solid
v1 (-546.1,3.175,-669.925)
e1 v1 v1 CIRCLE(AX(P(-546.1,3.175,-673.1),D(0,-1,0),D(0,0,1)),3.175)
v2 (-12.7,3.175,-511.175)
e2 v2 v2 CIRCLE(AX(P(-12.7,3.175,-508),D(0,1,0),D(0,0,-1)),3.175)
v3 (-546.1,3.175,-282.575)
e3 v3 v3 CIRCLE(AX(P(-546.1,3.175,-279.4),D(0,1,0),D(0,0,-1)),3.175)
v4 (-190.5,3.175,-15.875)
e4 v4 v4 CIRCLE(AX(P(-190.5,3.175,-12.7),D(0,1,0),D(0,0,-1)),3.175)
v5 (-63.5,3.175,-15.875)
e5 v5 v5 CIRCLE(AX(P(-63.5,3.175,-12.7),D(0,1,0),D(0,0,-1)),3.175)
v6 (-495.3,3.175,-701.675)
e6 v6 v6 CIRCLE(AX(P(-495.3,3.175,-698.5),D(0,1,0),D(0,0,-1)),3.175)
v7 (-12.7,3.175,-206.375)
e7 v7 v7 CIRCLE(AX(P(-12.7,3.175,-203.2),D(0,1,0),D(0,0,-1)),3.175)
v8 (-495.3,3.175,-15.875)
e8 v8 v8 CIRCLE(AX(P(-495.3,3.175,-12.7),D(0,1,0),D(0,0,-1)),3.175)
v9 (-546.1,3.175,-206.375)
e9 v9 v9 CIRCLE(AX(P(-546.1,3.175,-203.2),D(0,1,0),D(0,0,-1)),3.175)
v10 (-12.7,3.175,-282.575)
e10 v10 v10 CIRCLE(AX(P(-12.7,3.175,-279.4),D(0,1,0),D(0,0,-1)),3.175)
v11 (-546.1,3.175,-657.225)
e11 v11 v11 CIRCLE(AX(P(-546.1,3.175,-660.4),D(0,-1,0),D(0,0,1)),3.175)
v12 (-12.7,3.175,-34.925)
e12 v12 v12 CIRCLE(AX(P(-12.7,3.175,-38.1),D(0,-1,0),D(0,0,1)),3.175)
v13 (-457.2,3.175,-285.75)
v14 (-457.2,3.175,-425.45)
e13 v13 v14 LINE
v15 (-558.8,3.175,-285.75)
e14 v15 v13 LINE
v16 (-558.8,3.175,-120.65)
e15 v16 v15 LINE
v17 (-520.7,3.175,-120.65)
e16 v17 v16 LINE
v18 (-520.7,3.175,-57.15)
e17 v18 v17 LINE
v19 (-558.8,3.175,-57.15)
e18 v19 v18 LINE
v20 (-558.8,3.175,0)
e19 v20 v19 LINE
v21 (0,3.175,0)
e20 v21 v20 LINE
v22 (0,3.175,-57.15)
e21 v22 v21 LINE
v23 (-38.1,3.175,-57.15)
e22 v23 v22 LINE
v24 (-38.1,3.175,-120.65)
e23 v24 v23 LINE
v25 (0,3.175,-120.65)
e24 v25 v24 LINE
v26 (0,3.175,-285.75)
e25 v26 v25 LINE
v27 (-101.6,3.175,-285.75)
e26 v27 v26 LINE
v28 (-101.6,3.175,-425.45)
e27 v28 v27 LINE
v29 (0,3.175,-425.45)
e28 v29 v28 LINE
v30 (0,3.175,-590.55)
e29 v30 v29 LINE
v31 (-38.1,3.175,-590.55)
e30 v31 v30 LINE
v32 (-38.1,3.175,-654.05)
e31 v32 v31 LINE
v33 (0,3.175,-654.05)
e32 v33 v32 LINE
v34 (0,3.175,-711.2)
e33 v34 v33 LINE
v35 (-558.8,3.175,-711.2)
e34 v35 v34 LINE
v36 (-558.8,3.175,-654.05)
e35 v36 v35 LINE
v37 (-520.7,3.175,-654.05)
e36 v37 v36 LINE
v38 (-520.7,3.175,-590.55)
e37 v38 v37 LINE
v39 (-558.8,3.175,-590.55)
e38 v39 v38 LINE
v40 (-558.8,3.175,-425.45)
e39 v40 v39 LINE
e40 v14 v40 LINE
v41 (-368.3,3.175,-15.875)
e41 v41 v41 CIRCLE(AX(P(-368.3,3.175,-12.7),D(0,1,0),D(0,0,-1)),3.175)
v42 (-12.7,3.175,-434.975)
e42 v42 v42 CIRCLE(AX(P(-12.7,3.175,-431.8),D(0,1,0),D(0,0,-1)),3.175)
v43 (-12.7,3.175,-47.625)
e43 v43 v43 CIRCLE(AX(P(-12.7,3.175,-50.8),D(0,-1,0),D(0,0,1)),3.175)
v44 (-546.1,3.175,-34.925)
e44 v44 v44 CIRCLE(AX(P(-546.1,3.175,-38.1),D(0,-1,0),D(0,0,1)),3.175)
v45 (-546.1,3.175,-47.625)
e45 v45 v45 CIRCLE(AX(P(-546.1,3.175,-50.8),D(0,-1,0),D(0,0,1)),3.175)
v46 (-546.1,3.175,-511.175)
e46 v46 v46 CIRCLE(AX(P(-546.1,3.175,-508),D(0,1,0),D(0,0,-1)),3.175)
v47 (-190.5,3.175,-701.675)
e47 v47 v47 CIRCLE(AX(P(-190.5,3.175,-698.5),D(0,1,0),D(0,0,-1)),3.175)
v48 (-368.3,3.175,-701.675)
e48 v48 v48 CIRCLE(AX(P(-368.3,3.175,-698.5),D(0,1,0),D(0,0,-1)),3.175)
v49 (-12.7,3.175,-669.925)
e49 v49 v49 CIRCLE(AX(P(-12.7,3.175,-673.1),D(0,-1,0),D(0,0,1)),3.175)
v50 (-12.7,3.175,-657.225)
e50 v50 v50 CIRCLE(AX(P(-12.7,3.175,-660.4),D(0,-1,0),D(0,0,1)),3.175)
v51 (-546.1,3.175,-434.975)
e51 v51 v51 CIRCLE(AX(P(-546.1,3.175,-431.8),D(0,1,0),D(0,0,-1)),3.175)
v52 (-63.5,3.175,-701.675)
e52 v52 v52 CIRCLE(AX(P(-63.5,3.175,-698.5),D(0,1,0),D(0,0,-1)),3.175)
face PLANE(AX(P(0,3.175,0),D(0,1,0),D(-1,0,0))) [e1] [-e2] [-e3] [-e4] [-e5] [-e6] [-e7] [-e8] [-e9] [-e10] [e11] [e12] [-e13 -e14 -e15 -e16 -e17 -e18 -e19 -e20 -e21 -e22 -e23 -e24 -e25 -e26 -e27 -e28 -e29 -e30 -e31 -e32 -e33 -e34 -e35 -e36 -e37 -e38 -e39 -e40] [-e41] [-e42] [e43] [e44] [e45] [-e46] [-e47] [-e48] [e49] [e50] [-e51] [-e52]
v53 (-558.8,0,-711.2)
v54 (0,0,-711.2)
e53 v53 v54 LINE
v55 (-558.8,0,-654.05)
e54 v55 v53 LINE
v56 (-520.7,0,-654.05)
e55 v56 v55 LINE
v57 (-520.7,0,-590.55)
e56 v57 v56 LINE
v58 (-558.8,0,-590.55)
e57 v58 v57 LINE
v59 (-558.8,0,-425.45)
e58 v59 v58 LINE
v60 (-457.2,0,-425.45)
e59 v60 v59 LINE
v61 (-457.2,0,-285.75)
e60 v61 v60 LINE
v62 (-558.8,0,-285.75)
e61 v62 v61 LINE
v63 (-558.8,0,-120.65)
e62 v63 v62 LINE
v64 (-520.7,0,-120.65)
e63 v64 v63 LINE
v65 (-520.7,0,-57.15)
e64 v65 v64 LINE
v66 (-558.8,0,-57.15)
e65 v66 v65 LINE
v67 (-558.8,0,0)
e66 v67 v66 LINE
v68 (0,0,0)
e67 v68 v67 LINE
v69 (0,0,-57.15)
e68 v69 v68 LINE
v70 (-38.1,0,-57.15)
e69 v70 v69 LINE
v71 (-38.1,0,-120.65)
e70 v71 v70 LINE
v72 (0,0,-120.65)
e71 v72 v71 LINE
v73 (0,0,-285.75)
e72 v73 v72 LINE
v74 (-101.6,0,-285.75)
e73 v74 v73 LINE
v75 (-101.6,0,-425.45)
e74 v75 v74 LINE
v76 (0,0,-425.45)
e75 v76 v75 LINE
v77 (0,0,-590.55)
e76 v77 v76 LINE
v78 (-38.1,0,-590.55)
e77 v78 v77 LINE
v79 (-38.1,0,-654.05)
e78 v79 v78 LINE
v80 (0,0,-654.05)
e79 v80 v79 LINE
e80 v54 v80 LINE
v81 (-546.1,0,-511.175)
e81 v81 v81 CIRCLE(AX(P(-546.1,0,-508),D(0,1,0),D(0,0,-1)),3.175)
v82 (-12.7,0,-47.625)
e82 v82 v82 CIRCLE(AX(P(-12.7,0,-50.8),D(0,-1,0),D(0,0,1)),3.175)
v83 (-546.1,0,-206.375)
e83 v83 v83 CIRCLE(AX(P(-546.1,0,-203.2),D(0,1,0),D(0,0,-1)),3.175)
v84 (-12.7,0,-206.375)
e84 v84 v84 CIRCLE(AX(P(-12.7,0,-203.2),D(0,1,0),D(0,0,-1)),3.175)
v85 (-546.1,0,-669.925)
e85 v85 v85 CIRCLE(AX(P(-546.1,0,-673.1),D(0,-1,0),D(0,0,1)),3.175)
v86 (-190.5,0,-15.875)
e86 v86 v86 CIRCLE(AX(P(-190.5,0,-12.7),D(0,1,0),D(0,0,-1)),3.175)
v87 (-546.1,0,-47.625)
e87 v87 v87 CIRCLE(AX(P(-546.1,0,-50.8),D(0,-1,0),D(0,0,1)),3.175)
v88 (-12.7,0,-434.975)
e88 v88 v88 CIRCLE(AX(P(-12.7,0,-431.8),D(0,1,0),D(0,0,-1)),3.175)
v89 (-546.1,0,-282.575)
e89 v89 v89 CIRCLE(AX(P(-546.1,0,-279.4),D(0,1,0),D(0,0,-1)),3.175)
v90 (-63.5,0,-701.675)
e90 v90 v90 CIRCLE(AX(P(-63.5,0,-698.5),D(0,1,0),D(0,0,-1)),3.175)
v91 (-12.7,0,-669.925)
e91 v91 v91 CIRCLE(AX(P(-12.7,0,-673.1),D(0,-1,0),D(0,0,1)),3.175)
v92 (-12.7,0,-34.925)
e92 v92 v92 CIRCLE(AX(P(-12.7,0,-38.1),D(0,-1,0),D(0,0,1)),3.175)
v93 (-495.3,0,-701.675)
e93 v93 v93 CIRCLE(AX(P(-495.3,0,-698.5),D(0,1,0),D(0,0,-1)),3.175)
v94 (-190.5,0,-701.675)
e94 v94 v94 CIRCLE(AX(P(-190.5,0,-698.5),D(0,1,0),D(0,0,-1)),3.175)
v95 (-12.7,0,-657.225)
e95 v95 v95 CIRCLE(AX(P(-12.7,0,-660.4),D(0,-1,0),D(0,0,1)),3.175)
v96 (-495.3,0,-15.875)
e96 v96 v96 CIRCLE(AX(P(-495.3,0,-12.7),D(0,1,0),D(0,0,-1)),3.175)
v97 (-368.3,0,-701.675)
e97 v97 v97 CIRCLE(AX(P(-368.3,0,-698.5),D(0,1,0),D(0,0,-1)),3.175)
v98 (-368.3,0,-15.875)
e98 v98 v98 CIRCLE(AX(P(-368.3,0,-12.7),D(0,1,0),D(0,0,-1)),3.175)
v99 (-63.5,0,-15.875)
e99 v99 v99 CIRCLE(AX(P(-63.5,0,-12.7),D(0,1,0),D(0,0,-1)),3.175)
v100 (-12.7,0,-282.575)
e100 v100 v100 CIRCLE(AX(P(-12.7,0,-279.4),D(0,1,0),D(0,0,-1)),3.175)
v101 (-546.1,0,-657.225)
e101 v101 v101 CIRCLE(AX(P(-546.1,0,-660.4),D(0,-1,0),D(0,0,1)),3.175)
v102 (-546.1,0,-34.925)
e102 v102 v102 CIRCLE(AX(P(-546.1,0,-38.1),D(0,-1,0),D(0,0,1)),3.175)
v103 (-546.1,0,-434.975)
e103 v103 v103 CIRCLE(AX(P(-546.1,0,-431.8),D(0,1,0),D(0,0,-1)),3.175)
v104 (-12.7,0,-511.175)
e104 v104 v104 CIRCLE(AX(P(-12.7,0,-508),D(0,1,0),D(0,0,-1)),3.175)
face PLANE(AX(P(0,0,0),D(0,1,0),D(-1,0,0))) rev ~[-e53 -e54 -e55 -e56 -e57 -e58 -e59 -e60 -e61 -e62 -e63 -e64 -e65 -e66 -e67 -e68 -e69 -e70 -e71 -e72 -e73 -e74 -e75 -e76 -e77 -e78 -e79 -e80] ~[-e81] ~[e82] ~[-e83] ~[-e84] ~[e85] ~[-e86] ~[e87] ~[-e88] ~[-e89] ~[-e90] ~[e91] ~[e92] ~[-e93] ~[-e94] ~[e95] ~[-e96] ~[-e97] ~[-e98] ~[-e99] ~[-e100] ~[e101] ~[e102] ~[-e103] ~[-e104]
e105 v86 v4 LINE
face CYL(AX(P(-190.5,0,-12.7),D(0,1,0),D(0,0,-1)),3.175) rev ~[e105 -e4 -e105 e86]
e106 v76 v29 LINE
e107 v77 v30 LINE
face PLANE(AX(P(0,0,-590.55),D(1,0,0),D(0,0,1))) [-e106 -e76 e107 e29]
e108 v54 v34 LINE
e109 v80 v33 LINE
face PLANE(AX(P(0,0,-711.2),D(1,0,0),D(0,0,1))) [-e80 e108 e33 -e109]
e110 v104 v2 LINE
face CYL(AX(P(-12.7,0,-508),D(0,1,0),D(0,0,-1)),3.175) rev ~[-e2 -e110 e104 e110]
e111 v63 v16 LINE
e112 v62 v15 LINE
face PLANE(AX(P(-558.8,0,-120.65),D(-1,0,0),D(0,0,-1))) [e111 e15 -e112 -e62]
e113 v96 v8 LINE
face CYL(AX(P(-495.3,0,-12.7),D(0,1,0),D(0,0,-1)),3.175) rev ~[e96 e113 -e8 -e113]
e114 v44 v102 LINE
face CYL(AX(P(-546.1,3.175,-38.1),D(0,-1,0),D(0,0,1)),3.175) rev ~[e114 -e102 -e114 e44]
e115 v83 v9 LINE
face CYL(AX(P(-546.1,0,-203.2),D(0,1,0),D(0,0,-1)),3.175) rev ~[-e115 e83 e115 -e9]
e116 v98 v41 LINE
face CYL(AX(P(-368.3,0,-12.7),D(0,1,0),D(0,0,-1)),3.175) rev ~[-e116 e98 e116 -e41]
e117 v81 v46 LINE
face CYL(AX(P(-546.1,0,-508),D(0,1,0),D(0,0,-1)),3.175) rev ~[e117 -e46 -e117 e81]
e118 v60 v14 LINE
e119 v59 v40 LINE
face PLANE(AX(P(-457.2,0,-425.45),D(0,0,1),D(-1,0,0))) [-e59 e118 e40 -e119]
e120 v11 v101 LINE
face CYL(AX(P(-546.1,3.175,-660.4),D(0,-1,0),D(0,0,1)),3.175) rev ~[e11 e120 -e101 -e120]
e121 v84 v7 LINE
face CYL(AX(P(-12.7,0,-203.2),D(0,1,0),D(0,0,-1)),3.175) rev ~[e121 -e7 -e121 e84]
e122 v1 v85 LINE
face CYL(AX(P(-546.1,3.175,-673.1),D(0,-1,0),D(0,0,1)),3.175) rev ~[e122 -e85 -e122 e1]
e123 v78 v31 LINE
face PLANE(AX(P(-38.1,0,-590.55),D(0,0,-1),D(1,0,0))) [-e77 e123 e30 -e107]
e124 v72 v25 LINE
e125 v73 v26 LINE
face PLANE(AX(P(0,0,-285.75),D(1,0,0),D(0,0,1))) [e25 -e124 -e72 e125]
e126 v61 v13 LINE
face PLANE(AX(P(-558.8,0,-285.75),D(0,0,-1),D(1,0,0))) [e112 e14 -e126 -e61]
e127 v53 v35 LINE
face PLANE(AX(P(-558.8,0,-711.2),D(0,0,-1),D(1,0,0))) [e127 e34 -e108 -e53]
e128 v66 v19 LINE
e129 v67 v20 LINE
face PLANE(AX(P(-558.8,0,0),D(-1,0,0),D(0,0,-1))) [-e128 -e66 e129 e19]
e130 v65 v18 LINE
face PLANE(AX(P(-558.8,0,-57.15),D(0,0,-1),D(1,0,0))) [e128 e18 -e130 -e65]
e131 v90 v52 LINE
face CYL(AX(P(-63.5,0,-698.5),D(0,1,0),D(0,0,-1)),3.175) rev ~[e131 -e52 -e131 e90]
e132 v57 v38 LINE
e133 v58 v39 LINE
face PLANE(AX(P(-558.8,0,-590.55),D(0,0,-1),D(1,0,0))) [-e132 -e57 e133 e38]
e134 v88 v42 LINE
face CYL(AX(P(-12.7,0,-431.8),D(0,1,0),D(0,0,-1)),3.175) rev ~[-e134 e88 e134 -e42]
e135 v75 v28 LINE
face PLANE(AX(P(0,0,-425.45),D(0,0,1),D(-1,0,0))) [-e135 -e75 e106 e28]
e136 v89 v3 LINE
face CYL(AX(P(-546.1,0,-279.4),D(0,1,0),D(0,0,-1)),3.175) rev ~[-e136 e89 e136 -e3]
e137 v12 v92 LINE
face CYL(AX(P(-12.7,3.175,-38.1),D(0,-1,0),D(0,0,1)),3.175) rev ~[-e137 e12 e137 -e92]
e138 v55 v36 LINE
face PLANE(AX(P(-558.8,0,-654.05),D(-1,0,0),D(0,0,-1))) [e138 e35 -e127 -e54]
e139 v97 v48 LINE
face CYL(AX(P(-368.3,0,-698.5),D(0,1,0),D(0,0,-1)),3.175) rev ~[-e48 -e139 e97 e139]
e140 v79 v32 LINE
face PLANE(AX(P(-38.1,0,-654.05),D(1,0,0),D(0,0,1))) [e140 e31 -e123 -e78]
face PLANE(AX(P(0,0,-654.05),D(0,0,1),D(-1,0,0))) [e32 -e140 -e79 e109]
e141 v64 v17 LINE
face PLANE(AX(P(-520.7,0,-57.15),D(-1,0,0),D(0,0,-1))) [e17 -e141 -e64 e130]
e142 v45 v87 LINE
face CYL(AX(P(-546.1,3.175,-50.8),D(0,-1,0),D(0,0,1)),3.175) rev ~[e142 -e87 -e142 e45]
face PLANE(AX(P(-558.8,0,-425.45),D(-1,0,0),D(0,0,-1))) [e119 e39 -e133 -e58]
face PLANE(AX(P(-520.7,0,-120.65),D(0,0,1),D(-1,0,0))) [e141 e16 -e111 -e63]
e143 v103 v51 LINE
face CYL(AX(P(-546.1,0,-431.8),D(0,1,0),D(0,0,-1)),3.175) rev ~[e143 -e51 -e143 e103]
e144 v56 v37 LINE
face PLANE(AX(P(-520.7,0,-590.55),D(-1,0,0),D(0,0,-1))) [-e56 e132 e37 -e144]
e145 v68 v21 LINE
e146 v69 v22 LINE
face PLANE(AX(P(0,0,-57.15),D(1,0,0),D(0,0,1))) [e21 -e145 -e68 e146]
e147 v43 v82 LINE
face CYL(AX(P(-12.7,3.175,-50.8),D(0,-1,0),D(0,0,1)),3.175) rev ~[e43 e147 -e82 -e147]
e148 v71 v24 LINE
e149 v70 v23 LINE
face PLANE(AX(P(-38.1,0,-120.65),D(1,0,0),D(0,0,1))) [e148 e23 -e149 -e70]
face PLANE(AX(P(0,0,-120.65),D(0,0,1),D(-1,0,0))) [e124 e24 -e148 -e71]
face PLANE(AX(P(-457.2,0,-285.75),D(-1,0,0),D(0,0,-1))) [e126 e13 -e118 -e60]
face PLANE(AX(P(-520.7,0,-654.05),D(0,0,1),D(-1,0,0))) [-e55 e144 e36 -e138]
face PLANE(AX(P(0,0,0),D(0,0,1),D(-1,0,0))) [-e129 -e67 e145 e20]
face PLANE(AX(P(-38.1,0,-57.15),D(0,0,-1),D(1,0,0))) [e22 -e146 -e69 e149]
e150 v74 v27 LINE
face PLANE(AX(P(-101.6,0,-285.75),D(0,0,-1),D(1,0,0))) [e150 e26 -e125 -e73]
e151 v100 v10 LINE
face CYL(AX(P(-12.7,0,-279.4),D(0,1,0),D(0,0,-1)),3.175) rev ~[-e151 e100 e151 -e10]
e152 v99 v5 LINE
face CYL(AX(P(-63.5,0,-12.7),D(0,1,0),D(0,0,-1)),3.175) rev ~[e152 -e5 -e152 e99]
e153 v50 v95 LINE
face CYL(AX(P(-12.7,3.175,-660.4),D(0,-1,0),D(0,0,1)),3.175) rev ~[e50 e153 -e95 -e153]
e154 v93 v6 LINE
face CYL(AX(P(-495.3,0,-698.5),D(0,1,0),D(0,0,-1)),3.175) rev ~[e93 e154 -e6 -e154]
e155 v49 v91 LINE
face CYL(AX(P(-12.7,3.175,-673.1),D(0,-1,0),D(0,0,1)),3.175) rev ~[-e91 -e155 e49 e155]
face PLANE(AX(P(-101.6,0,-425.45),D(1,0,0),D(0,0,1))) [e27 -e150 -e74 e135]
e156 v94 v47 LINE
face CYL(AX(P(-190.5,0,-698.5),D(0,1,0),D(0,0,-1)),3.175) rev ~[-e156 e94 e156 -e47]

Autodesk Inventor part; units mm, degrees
ref_plane "YZ Plane" through (0, 0, 0) normal (1, 0, 0) x (0, 1, 0)
ref_plane "XZ Plane" through (0, 0, 0) normal (0, 1, 0) x (-1, 0, 0)
ref_plane "XY Plane" through (0, 0, 0) normal (0, 0, 1) x (1, 0, 0)
sketch "Sketch1" plane through (0, 0, 0) normal (0, 1, 0) x (-1, 0, 0)
  line L0 (0, 0) -> (558.8, 0) construction
  line L1 (558.8, 0) -> (558.8, -711.2) construction
  line L2 (558.8, -711.2) -> (0, -711.2) construction
  line L3 (0, -711.2) -> (0, 0) construction
  line L4 (558.8, -355.6) -> (457.2, -355.6) construction
  line L5 (457.2, -355.6) -> (457.2, -425.45) construction
  line L6 (457.2, -425.45) -> (558.8, -425.45) construction
  line L7 (558.8, -425.45) -> (558.8, -355.6) construction
  line L8 (558.8, -355.6) -> (457.2, -355.6) construction
  line L9 (457.2, -355.6) -> (457.2, -285.75) construction
  line L10 (457.2, -285.75) -> (558.8, -285.75) construction
  line L11 (558.8, -285.75) -> (558.8, -355.6) construction
  line L12 (0, -355.6) -> (101.6, -355.6) construction
  line L13 (101.6, -355.6) -> (101.6, -425.45) construction
  line L14 (101.6, -425.45) -> (0, -425.45) construction
  line L15 (0, -425.45) -> (0, -355.6) construction
  line L16 (0, -355.6) -> (101.6, -355.6) construction
  line L17 (101.6, -355.6) -> (101.6, -285.75) construction
  line L18 (101.6, -285.75) -> (0, -285.75) construction
  line L19 (0, -285.75) -> (0, -355.6) construction
  line L20 (558.8, 0) -> (558.8, -57.15) construction
  line L21 (558.8, -57.15) -> (520.7, -57.15) construction
  line L22 (520.7, -57.15) -> (520.7, -120.65) construction
  line L23 (520.7, -120.65) -> (558.8, -120.65) construction
  line L24 (558.8, -120.65) -> (558.8, -57.15) construction
  line L25 (0, 0) -> (0, -57.15) construction
  line L26 (0, -57.15) -> (38.1, -57.15) construction
  line L27 (38.1, -57.15) -> (38.1, -120.65) construction
  line L28 (38.1, -120.65) -> (0, -120.65) construction
  line L29 (0, -120.65) -> (0, -57.15) construction
  line L30 (0, -711.2) -> (0, -654.05) construction
  line L31 (0, -654.05) -> (38.1, -654.05) construction
  line L32 (38.1, -654.05) -> (38.1, -590.55) construction
  line L33 (38.1, -590.55) -> (0, -590.55) construction
  line L34 (0, -590.55) -> (0, -654.05) construction
  line L35 (558.8, -711.2) -> (558.8, -654.05) construction
  line L36 (558.8, -654.05) -> (520.7, -654.05) construction
  line L37 (520.7, -654.05) -> (520.7, -590.55) construction
  line L38 (520.7, -590.55) -> (558.8, -590.55) construction
  line L39 (558.8, -590.55) -> (558.8, -654.05) construction
  line L40 (0, 0) -> (558.8, 0)
  line L41 (558.8, 0) -> (558.8, -57.15)
  line L42 (558.8, -57.15) -> (520.7, -57.15)
  line L43 (520.7, -57.15) -> (520.7, -120.65)
  line L44 (520.7, -120.65) -> (558.8, -120.65)
  line L45 (558.8, -120.65) -> (558.8, -285.75)
  line L46 (558.8, -285.75) -> (457.2, -285.75)
  line L47 (457.2, -285.75) -> (457.2, -425.45)
  line L48 (457.2, -425.45) -> (558.8, -425.45)
  line L49 (558.8, -425.45) -> (558.8, -590.55)
  line L50 (558.8, -590.55) -> (520.7, -590.55)
  line L51 (520.7, -590.55) -> (520.7, -654.05)
  line L52 (520.7, -654.05) -> (558.8, -654.05)
  line L53 (558.8, -654.05) -> (558.8, -711.2)
  line L54 (558.8, -711.2) -> (0, -711.2)
  line L55 (0, -711.2) -> (0, -654.05)
  line L56 (0, -654.05) -> (38.1, -654.05)
  line L57 (38.1, -654.05) -> (38.1, -590.55)
  line L58 (38.1, -590.55) -> (0, -590.55)
  line L59 (0, -590.55) -> (0, -425.45)
  line L60 (0, -425.45) -> (101.6, -425.45)
  line L61 (101.6, -425.45) -> (101.6, -285.75)
  line L62 (101.6, -285.75) -> (0, -285.75)
  line L63 (0, -285.75) -> (0, -120.65)
  line L64 (0, -120.65) -> (38.1, -120.65)
  line L65 (38.1, -120.65) -> (38.1, -57.15)
  line L66 (38.1, -57.15) -> (0, -57.15)
  line L67 (0, -57.15) -> (0, 0)
  dimension "d0" = 558.8
  dimension "d1" = 711.2
  dimension "d2" = 101.6
  dimension "d3" = 69.85
  dimension "d4" = 101.6
  dimension "d5" = 69.85
  dimension "d6" = 101.6
  dimension "d7" = 69.85
  dimension "d8" = 101.6
  dimension "d9" = 69.85
  dimension "d10" = 57.15
  dimension "d11" = 38.1
  dimension "d12" = 63.5
  dimension "d13" = 57.15
  dimension "d14" = 38.1
  dimension "d15" = 63.5
  dimension "d16" = 57.15
  dimension "d17" = 38.1
  dimension "d18" = 63.5
  dimension "d19" = 57.15
  dimension "d20" = 38.1
  dimension "d21" = 63.5
extrude "Extrusion1" add sketch "Sketch1" along normal blind 3.175
sketch "Sketch2" plane through (0, 3.175, 0) normal (0, 1, 0) x (1, 0, 0)
  line L0 (-558.8, 0) -> (0, 0) projected
  line L1 (0, 0) -> (0, 57.15) projected
  line L2 (0, 57.15) -> (-38.1, 57.15) projected
  line L3 (-38.1, 57.15) -> (-38.1, 120.65) projected
  line L4 (-38.1, 120.65) -> (0, 120.65) projected
  line L5 (0, 120.65) -> (0, 285.75) projected
  line L6 (0, 285.75) -> (-101.6, 285.75) projected
  line L7 (-101.6, 285.75) -> (-101.6, 425.45) projected
  line L8 (-101.6, 425.45) -> (0, 425.45) projected
  line L9 (0, 425.45) -> (0, 590.55) projected
  line L10 (0, 590.55) -> (-38.1, 590.55) projected
  line L11 (-38.1, 590.55) -> (-38.1, 654.05) projected
  line L12 (-38.1, 654.05) -> (0, 654.05) projected
  line L13 (0, 654.05) -> (0, 711.2) projected
  line L14 (0, 711.2) -> (-558.8, 711.2) projected
  line L15 (-558.8, 711.2) -> (-558.8, 654.05) projected
  line L16 (-558.8, 654.05) -> (-520.7, 654.05) projected
  line L17 (-520.7, 654.05) -> (-520.7, 590.55) projected
  line L18 (-520.7, 590.55) -> (-558.8, 590.55) projected
  line L19 (-558.8, 590.55) -> (-558.8, 425.45) projected
  line L20 (-558.8, 425.45) -> (-457.2, 425.45) projected
  line L21 (-457.2, 425.45) -> (-457.2, 285.75) projected
  line L22 (-457.2, 285.75) -> (-558.8, 285.75) projected
  line L23 (-558.8, 285.75) -> (-558.8, 120.65) projected
  line L24 (-558.8, 120.65) -> (-520.7, 120.65) projected
  line L25 (-520.7, 120.65) -> (-520.7, 57.15) projected
  line L26 (-520.7, 57.15) -> (-558.8, 57.15) projected
  line L27 (-558.8, 57.15) -> (-558.8, 0) projected
  point P0 (-546.1, 38.1)
  point P1 (-546.1, 50.8)
  point P2 (-12.7, 38.1)
  point P3 (-12.7, 50.8)
  point P4 (-12.7, 673.1)
  point P5 (-12.7, 660.4)
  point P6 (-546.1, 673.1)
  point P7 (-546.1, 660.4)
  dimension "d24" = 12.7
  dimension "d25" = 12.7
  dimension "d26" = 50.8
  dimension "d27" = 38.1
  dimension "d28" = 12.7
  dimension "d29" = 12.7
  dimension "d30" = 38.1
  dimension "d31" = 50.8
  dimension "d32" = 50.8
  dimension "d33" = 38.1
  dimension "d34" = 38.1
  dimension "d35" = 50.8
  dimension "d36" = 12.7
  dimension "d37" = 12.7
  dimension "d38" = 12.7
  dimension "d39" = 12.7
hole "Hole1" at (-546.1, 3.175, -38.1) at (-546.1, 3.175, -50.8) at (-12.7, 3.175, -38.1) at (-12.7, 3.175, -50.8) at (-12.7, 3.175, -673.1) at (-12.7, 3.175, -660.4) at (-546.1, 3.175, -673.1) at (-546.1, 3.175, -660.4) direction (0, -1, 0) diameter 6.35 end through all
sketch "Sketch3" plane through (0, 0, 0) normal (0, -1, 0) x (1, 0, 0)
  circle A0 centre (-546.1, -673.1) radius 3.175 projected
  circle A1 centre (-12.7, -673.1) radius 3.175 projected
  circle A2 centre (-12.7, -38.1) radius 3.175 projected
  circle A3 centre (-546.1, -38.1) radius 3.175 projected
  circle A4 centre (-546.1, -50.8) radius 3.175 projected
  circle A5 centre (-12.7, -50.8) radius 3.175 projected
  circle A6 centre (-12.7, -660.4) radius 3.175 projected
  circle A7 centre (-546.1, -660.4) radius 3.175 projected
  line L0 (0, 0) -> (-558.8, 0) projected
  line L1 (-558.8, 0) -> (-558.8, -57.15) projected
  line L2 (-558.8, -57.15) -> (-520.7, -57.15) projected
  line L3 (-520.7, -57.15) -> (-520.7, -120.65) projected
  line L4 (-520.7, -120.65) -> (-558.8, -120.65) projected
  line L5 (-558.8, -120.65) -> (-558.8, -285.75) projected
  line L6 (-558.8, -285.75) -> (-457.2, -285.75) projected
  line L7 (-457.2, -285.75) -> (-457.2, -425.45) projected
  line L8 (-457.2, -425.45) -> (-558.8, -425.45) projected
  line L9 (-558.8, -425.45) -> (-558.8, -590.55) projected
  line L10 (-558.8, -590.55) -> (-520.7, -590.55) projected
  line L11 (-520.7, -590.55) -> (-520.7, -654.05) projected
  line L12 (-520.7, -654.05) -> (-558.8, -654.05) projected
  line L13 (-558.8, -654.05) -> (-558.8, -711.2) projected
  line L14 (-558.8, -711.2) -> (0, -711.2) projected
  line L15 (0, -711.2) -> (0, -654.05) projected
  line L16 (0, -654.05) -> (-38.1, -654.05) projected
  line L17 (-38.1, -654.05) -> (-38.1, -590.55) projected
  line L18 (-38.1, -590.55) -> (0, -590.55) projected
  line L19 (0, -590.55) -> (0, -425.45) projected
  line L20 (0, -425.45) -> (-101.6, -425.45) projected
  line L21 (-101.6, -425.45) -> (-101.6, -285.75) projected
  line L22 (-101.6, -285.75) -> (0, -285.75) projected
  line L23 (0, -285.75) -> (0, -120.65) projected
  line L24 (0, -120.65) -> (-38.1, -120.65) projected
  line L25 (-38.1, -120.65) -> (-38.1, -57.15) projected
  line L26 (-38.1, -57.15) -> (0, -57.15) projected
  line L27 (0, -57.15) -> (0, 0) projected
  point P0 (-12.7, -279.4)
  point P1 (-12.7, -203.2)
  point P2 (-12.7, -431.8)
  point P3 (-12.7, -508)
  point P4 (-546.1, -431.8)
  point P5 (-546.1, -508)
  point P6 (-546.1, -279.4)
  point P7 (-546.1, -203.2)
  dimension "d47" = 12.7
  dimension "d48" = 12.7
  dimension "d49" = 82.55
  dimension "d50" = 6.35
  dimension "d51" = 6.35
  dimension "d52" = 82.55
  dimension "d53" = 12.7
  dimension "d54" = 12.7
  dimension "d55" = 12.7
  dimension "d56" = 12.7
  dimension "d57" = 6.35
  dimension "d58" = 82.55
  dimension "d59" = 6.35
  dimension "d60" = 12.7
  dimension "d61" = 82.55
  dimension "d62" = 12.7
hole "Hole2" at (-12.7, 0, -279.4) at (-12.7, 0, -203.2) at (-12.7, 0, -431.8) at (-12.7, 0, -508) at (-546.1, 0, -431.8) at (-546.1, 0, -508) at (-546.1, 0, -279.4) at (-546.1, 0, -203.2) direction (0, 1, 0) diameter 6.35 end through all
sketch "Sketch4" plane through (0, 0, 0) normal (0, -1, 0) x (1, 0, 0)
  circle A0 centre (-546.1, -279.4) radius 3.175 projected
  circle A1 centre (-546.1, -431.8) radius 3.175 projected
  circle A2 centre (-12.7, -431.8) radius 3.175 projected
  circle A3 centre (-12.7, -279.4) radius 3.175 projected
  circle A4 centre (-12.7, -203.2) radius 3.175 projected
  circle A5 centre (-12.7, -508) radius 3.175 projected
  circle A6 centre (-546.1, -508) radius 3.175 projected
  circle A7 centre (-546.1, -203.2) radius 3.175 projected
  circle A8 centre (-546.1, -673.1) radius 3.175 projected
  circle A9 centre (-12.7, -673.1) radius 3.175 projected
  circle A10 centre (-12.7, -38.1) radius 3.175 projected
  circle A11 centre (-546.1, -38.1) radius 3.175 projected
  circle A12 centre (-546.1, -50.8) radius 3.175 projected
  circle A13 centre (-12.7, -50.8) radius 3.175 projected
  circle A14 centre (-12.7, -660.4) radius 3.175 projected
  circle A15 centre (-546.1, -660.4) radius 3.175 projected
  line L0 (0, 0) -> (-558.8, 0) projected
  line L1 (-558.8, 0) -> (-558.8, -57.15) projected
  line L2 (-558.8, -57.15) -> (-520.7, -57.15) projected
  line L3 (-520.7, -57.15) -> (-520.7, -120.65) projected
  line L4 (-520.7, -120.65) -> (-558.8, -120.65) projected
  line L5 (-558.8, -120.65) -> (-558.8, -285.75) projected
  line L6 (-558.8, -285.75) -> (-457.2, -285.75) projected
  line L7 (-457.2, -285.75) -> (-457.2, -425.45) projected
  line L8 (-457.2, -425.45) -> (-558.8, -425.45) projected
  line L9 (-558.8, -425.45) -> (-558.8, -590.55) projected
  line L10 (-558.8, -590.55) -> (-520.7, -590.55) projected
  line L11 (-520.7, -590.55) -> (-520.7, -654.05) projected
  line L12 (-520.7, -654.05) -> (-558.8, -654.05) projected
  line L13 (-558.8, -654.05) -> (-558.8, -711.2) projected
  line L14 (-558.8, -711.2) -> (0, -711.2) projected
  line L15 (0, -711.2) -> (0, -654.05) projected
  line L16 (0, -654.05) -> (-38.1, -654.05) projected
  line L17 (-38.1, -654.05) -> (-38.1, -590.55) projected
  line L18 (-38.1, -590.55) -> (0, -590.55) projected
  line L19 (0, -590.55) -> (0, -425.45) projected
  line L20 (0, -425.45) -> (-101.6, -425.45) projected
  line L21 (-101.6, -425.45) -> (-101.6, -285.75) projected
  line L22 (-101.6, -285.75) -> (0, -285.75) projected
  line L23 (0, -285.75) -> (0, -120.65) projected
  line L24 (0, -120.65) -> (-38.1, -120.65) projected
  line L25 (-38.1, -120.65) -> (-38.1, -57.15) projected
  line L26 (-38.1, -57.15) -> (0, -57.15) projected
  line L27 (0, -57.15) -> (0, 0) projected
  point P0 (-495.3, -698.5)
  point P1 (-368.3, -698.5)
  point P2 (-190.5, -698.5)
  point P3 (-63.5, -698.5)
  point P4 (-495.3, -12.7)
  point P5 (-368.3, -12.7)
  point P6 (-190.5, -12.7)
  point P7 (-63.5, -12.7)
  dimension "d70" = 63.5
  dimension "d71" = 12.7
  dimension "d72" = 12.7
  dimension "d73" = 190.5
  dimension "d74" = 63.5
  dimension "d75" = 12.7
  dimension "d76" = 12.7
  dimension "d77" = 190.5
  dimension "d78" = 12.7
  dimension "d79" = 63.5
  dimension "d80" = 12.7
  dimension "d81" = 190.5
  dimension "d82" = 63.5
  dimension "d83" = 12.7
  dimension "d84" = 12.7
  dimension "d85" = 190.5
hole "Hole3" at (-495.3, 0, -698.5) at (-368.3, 0, -698.5) at (-190.5, 0, -698.5) at (-63.5, 0, -698.5) at (-495.3, 0, -12.7) at (-368.3, 0, -12.7) at (-190.5, 0, -12.7) at (-63.5, 0, -12.7) direction (0, 1, 0) diameter 6.35 end through all
properties part number "base"
